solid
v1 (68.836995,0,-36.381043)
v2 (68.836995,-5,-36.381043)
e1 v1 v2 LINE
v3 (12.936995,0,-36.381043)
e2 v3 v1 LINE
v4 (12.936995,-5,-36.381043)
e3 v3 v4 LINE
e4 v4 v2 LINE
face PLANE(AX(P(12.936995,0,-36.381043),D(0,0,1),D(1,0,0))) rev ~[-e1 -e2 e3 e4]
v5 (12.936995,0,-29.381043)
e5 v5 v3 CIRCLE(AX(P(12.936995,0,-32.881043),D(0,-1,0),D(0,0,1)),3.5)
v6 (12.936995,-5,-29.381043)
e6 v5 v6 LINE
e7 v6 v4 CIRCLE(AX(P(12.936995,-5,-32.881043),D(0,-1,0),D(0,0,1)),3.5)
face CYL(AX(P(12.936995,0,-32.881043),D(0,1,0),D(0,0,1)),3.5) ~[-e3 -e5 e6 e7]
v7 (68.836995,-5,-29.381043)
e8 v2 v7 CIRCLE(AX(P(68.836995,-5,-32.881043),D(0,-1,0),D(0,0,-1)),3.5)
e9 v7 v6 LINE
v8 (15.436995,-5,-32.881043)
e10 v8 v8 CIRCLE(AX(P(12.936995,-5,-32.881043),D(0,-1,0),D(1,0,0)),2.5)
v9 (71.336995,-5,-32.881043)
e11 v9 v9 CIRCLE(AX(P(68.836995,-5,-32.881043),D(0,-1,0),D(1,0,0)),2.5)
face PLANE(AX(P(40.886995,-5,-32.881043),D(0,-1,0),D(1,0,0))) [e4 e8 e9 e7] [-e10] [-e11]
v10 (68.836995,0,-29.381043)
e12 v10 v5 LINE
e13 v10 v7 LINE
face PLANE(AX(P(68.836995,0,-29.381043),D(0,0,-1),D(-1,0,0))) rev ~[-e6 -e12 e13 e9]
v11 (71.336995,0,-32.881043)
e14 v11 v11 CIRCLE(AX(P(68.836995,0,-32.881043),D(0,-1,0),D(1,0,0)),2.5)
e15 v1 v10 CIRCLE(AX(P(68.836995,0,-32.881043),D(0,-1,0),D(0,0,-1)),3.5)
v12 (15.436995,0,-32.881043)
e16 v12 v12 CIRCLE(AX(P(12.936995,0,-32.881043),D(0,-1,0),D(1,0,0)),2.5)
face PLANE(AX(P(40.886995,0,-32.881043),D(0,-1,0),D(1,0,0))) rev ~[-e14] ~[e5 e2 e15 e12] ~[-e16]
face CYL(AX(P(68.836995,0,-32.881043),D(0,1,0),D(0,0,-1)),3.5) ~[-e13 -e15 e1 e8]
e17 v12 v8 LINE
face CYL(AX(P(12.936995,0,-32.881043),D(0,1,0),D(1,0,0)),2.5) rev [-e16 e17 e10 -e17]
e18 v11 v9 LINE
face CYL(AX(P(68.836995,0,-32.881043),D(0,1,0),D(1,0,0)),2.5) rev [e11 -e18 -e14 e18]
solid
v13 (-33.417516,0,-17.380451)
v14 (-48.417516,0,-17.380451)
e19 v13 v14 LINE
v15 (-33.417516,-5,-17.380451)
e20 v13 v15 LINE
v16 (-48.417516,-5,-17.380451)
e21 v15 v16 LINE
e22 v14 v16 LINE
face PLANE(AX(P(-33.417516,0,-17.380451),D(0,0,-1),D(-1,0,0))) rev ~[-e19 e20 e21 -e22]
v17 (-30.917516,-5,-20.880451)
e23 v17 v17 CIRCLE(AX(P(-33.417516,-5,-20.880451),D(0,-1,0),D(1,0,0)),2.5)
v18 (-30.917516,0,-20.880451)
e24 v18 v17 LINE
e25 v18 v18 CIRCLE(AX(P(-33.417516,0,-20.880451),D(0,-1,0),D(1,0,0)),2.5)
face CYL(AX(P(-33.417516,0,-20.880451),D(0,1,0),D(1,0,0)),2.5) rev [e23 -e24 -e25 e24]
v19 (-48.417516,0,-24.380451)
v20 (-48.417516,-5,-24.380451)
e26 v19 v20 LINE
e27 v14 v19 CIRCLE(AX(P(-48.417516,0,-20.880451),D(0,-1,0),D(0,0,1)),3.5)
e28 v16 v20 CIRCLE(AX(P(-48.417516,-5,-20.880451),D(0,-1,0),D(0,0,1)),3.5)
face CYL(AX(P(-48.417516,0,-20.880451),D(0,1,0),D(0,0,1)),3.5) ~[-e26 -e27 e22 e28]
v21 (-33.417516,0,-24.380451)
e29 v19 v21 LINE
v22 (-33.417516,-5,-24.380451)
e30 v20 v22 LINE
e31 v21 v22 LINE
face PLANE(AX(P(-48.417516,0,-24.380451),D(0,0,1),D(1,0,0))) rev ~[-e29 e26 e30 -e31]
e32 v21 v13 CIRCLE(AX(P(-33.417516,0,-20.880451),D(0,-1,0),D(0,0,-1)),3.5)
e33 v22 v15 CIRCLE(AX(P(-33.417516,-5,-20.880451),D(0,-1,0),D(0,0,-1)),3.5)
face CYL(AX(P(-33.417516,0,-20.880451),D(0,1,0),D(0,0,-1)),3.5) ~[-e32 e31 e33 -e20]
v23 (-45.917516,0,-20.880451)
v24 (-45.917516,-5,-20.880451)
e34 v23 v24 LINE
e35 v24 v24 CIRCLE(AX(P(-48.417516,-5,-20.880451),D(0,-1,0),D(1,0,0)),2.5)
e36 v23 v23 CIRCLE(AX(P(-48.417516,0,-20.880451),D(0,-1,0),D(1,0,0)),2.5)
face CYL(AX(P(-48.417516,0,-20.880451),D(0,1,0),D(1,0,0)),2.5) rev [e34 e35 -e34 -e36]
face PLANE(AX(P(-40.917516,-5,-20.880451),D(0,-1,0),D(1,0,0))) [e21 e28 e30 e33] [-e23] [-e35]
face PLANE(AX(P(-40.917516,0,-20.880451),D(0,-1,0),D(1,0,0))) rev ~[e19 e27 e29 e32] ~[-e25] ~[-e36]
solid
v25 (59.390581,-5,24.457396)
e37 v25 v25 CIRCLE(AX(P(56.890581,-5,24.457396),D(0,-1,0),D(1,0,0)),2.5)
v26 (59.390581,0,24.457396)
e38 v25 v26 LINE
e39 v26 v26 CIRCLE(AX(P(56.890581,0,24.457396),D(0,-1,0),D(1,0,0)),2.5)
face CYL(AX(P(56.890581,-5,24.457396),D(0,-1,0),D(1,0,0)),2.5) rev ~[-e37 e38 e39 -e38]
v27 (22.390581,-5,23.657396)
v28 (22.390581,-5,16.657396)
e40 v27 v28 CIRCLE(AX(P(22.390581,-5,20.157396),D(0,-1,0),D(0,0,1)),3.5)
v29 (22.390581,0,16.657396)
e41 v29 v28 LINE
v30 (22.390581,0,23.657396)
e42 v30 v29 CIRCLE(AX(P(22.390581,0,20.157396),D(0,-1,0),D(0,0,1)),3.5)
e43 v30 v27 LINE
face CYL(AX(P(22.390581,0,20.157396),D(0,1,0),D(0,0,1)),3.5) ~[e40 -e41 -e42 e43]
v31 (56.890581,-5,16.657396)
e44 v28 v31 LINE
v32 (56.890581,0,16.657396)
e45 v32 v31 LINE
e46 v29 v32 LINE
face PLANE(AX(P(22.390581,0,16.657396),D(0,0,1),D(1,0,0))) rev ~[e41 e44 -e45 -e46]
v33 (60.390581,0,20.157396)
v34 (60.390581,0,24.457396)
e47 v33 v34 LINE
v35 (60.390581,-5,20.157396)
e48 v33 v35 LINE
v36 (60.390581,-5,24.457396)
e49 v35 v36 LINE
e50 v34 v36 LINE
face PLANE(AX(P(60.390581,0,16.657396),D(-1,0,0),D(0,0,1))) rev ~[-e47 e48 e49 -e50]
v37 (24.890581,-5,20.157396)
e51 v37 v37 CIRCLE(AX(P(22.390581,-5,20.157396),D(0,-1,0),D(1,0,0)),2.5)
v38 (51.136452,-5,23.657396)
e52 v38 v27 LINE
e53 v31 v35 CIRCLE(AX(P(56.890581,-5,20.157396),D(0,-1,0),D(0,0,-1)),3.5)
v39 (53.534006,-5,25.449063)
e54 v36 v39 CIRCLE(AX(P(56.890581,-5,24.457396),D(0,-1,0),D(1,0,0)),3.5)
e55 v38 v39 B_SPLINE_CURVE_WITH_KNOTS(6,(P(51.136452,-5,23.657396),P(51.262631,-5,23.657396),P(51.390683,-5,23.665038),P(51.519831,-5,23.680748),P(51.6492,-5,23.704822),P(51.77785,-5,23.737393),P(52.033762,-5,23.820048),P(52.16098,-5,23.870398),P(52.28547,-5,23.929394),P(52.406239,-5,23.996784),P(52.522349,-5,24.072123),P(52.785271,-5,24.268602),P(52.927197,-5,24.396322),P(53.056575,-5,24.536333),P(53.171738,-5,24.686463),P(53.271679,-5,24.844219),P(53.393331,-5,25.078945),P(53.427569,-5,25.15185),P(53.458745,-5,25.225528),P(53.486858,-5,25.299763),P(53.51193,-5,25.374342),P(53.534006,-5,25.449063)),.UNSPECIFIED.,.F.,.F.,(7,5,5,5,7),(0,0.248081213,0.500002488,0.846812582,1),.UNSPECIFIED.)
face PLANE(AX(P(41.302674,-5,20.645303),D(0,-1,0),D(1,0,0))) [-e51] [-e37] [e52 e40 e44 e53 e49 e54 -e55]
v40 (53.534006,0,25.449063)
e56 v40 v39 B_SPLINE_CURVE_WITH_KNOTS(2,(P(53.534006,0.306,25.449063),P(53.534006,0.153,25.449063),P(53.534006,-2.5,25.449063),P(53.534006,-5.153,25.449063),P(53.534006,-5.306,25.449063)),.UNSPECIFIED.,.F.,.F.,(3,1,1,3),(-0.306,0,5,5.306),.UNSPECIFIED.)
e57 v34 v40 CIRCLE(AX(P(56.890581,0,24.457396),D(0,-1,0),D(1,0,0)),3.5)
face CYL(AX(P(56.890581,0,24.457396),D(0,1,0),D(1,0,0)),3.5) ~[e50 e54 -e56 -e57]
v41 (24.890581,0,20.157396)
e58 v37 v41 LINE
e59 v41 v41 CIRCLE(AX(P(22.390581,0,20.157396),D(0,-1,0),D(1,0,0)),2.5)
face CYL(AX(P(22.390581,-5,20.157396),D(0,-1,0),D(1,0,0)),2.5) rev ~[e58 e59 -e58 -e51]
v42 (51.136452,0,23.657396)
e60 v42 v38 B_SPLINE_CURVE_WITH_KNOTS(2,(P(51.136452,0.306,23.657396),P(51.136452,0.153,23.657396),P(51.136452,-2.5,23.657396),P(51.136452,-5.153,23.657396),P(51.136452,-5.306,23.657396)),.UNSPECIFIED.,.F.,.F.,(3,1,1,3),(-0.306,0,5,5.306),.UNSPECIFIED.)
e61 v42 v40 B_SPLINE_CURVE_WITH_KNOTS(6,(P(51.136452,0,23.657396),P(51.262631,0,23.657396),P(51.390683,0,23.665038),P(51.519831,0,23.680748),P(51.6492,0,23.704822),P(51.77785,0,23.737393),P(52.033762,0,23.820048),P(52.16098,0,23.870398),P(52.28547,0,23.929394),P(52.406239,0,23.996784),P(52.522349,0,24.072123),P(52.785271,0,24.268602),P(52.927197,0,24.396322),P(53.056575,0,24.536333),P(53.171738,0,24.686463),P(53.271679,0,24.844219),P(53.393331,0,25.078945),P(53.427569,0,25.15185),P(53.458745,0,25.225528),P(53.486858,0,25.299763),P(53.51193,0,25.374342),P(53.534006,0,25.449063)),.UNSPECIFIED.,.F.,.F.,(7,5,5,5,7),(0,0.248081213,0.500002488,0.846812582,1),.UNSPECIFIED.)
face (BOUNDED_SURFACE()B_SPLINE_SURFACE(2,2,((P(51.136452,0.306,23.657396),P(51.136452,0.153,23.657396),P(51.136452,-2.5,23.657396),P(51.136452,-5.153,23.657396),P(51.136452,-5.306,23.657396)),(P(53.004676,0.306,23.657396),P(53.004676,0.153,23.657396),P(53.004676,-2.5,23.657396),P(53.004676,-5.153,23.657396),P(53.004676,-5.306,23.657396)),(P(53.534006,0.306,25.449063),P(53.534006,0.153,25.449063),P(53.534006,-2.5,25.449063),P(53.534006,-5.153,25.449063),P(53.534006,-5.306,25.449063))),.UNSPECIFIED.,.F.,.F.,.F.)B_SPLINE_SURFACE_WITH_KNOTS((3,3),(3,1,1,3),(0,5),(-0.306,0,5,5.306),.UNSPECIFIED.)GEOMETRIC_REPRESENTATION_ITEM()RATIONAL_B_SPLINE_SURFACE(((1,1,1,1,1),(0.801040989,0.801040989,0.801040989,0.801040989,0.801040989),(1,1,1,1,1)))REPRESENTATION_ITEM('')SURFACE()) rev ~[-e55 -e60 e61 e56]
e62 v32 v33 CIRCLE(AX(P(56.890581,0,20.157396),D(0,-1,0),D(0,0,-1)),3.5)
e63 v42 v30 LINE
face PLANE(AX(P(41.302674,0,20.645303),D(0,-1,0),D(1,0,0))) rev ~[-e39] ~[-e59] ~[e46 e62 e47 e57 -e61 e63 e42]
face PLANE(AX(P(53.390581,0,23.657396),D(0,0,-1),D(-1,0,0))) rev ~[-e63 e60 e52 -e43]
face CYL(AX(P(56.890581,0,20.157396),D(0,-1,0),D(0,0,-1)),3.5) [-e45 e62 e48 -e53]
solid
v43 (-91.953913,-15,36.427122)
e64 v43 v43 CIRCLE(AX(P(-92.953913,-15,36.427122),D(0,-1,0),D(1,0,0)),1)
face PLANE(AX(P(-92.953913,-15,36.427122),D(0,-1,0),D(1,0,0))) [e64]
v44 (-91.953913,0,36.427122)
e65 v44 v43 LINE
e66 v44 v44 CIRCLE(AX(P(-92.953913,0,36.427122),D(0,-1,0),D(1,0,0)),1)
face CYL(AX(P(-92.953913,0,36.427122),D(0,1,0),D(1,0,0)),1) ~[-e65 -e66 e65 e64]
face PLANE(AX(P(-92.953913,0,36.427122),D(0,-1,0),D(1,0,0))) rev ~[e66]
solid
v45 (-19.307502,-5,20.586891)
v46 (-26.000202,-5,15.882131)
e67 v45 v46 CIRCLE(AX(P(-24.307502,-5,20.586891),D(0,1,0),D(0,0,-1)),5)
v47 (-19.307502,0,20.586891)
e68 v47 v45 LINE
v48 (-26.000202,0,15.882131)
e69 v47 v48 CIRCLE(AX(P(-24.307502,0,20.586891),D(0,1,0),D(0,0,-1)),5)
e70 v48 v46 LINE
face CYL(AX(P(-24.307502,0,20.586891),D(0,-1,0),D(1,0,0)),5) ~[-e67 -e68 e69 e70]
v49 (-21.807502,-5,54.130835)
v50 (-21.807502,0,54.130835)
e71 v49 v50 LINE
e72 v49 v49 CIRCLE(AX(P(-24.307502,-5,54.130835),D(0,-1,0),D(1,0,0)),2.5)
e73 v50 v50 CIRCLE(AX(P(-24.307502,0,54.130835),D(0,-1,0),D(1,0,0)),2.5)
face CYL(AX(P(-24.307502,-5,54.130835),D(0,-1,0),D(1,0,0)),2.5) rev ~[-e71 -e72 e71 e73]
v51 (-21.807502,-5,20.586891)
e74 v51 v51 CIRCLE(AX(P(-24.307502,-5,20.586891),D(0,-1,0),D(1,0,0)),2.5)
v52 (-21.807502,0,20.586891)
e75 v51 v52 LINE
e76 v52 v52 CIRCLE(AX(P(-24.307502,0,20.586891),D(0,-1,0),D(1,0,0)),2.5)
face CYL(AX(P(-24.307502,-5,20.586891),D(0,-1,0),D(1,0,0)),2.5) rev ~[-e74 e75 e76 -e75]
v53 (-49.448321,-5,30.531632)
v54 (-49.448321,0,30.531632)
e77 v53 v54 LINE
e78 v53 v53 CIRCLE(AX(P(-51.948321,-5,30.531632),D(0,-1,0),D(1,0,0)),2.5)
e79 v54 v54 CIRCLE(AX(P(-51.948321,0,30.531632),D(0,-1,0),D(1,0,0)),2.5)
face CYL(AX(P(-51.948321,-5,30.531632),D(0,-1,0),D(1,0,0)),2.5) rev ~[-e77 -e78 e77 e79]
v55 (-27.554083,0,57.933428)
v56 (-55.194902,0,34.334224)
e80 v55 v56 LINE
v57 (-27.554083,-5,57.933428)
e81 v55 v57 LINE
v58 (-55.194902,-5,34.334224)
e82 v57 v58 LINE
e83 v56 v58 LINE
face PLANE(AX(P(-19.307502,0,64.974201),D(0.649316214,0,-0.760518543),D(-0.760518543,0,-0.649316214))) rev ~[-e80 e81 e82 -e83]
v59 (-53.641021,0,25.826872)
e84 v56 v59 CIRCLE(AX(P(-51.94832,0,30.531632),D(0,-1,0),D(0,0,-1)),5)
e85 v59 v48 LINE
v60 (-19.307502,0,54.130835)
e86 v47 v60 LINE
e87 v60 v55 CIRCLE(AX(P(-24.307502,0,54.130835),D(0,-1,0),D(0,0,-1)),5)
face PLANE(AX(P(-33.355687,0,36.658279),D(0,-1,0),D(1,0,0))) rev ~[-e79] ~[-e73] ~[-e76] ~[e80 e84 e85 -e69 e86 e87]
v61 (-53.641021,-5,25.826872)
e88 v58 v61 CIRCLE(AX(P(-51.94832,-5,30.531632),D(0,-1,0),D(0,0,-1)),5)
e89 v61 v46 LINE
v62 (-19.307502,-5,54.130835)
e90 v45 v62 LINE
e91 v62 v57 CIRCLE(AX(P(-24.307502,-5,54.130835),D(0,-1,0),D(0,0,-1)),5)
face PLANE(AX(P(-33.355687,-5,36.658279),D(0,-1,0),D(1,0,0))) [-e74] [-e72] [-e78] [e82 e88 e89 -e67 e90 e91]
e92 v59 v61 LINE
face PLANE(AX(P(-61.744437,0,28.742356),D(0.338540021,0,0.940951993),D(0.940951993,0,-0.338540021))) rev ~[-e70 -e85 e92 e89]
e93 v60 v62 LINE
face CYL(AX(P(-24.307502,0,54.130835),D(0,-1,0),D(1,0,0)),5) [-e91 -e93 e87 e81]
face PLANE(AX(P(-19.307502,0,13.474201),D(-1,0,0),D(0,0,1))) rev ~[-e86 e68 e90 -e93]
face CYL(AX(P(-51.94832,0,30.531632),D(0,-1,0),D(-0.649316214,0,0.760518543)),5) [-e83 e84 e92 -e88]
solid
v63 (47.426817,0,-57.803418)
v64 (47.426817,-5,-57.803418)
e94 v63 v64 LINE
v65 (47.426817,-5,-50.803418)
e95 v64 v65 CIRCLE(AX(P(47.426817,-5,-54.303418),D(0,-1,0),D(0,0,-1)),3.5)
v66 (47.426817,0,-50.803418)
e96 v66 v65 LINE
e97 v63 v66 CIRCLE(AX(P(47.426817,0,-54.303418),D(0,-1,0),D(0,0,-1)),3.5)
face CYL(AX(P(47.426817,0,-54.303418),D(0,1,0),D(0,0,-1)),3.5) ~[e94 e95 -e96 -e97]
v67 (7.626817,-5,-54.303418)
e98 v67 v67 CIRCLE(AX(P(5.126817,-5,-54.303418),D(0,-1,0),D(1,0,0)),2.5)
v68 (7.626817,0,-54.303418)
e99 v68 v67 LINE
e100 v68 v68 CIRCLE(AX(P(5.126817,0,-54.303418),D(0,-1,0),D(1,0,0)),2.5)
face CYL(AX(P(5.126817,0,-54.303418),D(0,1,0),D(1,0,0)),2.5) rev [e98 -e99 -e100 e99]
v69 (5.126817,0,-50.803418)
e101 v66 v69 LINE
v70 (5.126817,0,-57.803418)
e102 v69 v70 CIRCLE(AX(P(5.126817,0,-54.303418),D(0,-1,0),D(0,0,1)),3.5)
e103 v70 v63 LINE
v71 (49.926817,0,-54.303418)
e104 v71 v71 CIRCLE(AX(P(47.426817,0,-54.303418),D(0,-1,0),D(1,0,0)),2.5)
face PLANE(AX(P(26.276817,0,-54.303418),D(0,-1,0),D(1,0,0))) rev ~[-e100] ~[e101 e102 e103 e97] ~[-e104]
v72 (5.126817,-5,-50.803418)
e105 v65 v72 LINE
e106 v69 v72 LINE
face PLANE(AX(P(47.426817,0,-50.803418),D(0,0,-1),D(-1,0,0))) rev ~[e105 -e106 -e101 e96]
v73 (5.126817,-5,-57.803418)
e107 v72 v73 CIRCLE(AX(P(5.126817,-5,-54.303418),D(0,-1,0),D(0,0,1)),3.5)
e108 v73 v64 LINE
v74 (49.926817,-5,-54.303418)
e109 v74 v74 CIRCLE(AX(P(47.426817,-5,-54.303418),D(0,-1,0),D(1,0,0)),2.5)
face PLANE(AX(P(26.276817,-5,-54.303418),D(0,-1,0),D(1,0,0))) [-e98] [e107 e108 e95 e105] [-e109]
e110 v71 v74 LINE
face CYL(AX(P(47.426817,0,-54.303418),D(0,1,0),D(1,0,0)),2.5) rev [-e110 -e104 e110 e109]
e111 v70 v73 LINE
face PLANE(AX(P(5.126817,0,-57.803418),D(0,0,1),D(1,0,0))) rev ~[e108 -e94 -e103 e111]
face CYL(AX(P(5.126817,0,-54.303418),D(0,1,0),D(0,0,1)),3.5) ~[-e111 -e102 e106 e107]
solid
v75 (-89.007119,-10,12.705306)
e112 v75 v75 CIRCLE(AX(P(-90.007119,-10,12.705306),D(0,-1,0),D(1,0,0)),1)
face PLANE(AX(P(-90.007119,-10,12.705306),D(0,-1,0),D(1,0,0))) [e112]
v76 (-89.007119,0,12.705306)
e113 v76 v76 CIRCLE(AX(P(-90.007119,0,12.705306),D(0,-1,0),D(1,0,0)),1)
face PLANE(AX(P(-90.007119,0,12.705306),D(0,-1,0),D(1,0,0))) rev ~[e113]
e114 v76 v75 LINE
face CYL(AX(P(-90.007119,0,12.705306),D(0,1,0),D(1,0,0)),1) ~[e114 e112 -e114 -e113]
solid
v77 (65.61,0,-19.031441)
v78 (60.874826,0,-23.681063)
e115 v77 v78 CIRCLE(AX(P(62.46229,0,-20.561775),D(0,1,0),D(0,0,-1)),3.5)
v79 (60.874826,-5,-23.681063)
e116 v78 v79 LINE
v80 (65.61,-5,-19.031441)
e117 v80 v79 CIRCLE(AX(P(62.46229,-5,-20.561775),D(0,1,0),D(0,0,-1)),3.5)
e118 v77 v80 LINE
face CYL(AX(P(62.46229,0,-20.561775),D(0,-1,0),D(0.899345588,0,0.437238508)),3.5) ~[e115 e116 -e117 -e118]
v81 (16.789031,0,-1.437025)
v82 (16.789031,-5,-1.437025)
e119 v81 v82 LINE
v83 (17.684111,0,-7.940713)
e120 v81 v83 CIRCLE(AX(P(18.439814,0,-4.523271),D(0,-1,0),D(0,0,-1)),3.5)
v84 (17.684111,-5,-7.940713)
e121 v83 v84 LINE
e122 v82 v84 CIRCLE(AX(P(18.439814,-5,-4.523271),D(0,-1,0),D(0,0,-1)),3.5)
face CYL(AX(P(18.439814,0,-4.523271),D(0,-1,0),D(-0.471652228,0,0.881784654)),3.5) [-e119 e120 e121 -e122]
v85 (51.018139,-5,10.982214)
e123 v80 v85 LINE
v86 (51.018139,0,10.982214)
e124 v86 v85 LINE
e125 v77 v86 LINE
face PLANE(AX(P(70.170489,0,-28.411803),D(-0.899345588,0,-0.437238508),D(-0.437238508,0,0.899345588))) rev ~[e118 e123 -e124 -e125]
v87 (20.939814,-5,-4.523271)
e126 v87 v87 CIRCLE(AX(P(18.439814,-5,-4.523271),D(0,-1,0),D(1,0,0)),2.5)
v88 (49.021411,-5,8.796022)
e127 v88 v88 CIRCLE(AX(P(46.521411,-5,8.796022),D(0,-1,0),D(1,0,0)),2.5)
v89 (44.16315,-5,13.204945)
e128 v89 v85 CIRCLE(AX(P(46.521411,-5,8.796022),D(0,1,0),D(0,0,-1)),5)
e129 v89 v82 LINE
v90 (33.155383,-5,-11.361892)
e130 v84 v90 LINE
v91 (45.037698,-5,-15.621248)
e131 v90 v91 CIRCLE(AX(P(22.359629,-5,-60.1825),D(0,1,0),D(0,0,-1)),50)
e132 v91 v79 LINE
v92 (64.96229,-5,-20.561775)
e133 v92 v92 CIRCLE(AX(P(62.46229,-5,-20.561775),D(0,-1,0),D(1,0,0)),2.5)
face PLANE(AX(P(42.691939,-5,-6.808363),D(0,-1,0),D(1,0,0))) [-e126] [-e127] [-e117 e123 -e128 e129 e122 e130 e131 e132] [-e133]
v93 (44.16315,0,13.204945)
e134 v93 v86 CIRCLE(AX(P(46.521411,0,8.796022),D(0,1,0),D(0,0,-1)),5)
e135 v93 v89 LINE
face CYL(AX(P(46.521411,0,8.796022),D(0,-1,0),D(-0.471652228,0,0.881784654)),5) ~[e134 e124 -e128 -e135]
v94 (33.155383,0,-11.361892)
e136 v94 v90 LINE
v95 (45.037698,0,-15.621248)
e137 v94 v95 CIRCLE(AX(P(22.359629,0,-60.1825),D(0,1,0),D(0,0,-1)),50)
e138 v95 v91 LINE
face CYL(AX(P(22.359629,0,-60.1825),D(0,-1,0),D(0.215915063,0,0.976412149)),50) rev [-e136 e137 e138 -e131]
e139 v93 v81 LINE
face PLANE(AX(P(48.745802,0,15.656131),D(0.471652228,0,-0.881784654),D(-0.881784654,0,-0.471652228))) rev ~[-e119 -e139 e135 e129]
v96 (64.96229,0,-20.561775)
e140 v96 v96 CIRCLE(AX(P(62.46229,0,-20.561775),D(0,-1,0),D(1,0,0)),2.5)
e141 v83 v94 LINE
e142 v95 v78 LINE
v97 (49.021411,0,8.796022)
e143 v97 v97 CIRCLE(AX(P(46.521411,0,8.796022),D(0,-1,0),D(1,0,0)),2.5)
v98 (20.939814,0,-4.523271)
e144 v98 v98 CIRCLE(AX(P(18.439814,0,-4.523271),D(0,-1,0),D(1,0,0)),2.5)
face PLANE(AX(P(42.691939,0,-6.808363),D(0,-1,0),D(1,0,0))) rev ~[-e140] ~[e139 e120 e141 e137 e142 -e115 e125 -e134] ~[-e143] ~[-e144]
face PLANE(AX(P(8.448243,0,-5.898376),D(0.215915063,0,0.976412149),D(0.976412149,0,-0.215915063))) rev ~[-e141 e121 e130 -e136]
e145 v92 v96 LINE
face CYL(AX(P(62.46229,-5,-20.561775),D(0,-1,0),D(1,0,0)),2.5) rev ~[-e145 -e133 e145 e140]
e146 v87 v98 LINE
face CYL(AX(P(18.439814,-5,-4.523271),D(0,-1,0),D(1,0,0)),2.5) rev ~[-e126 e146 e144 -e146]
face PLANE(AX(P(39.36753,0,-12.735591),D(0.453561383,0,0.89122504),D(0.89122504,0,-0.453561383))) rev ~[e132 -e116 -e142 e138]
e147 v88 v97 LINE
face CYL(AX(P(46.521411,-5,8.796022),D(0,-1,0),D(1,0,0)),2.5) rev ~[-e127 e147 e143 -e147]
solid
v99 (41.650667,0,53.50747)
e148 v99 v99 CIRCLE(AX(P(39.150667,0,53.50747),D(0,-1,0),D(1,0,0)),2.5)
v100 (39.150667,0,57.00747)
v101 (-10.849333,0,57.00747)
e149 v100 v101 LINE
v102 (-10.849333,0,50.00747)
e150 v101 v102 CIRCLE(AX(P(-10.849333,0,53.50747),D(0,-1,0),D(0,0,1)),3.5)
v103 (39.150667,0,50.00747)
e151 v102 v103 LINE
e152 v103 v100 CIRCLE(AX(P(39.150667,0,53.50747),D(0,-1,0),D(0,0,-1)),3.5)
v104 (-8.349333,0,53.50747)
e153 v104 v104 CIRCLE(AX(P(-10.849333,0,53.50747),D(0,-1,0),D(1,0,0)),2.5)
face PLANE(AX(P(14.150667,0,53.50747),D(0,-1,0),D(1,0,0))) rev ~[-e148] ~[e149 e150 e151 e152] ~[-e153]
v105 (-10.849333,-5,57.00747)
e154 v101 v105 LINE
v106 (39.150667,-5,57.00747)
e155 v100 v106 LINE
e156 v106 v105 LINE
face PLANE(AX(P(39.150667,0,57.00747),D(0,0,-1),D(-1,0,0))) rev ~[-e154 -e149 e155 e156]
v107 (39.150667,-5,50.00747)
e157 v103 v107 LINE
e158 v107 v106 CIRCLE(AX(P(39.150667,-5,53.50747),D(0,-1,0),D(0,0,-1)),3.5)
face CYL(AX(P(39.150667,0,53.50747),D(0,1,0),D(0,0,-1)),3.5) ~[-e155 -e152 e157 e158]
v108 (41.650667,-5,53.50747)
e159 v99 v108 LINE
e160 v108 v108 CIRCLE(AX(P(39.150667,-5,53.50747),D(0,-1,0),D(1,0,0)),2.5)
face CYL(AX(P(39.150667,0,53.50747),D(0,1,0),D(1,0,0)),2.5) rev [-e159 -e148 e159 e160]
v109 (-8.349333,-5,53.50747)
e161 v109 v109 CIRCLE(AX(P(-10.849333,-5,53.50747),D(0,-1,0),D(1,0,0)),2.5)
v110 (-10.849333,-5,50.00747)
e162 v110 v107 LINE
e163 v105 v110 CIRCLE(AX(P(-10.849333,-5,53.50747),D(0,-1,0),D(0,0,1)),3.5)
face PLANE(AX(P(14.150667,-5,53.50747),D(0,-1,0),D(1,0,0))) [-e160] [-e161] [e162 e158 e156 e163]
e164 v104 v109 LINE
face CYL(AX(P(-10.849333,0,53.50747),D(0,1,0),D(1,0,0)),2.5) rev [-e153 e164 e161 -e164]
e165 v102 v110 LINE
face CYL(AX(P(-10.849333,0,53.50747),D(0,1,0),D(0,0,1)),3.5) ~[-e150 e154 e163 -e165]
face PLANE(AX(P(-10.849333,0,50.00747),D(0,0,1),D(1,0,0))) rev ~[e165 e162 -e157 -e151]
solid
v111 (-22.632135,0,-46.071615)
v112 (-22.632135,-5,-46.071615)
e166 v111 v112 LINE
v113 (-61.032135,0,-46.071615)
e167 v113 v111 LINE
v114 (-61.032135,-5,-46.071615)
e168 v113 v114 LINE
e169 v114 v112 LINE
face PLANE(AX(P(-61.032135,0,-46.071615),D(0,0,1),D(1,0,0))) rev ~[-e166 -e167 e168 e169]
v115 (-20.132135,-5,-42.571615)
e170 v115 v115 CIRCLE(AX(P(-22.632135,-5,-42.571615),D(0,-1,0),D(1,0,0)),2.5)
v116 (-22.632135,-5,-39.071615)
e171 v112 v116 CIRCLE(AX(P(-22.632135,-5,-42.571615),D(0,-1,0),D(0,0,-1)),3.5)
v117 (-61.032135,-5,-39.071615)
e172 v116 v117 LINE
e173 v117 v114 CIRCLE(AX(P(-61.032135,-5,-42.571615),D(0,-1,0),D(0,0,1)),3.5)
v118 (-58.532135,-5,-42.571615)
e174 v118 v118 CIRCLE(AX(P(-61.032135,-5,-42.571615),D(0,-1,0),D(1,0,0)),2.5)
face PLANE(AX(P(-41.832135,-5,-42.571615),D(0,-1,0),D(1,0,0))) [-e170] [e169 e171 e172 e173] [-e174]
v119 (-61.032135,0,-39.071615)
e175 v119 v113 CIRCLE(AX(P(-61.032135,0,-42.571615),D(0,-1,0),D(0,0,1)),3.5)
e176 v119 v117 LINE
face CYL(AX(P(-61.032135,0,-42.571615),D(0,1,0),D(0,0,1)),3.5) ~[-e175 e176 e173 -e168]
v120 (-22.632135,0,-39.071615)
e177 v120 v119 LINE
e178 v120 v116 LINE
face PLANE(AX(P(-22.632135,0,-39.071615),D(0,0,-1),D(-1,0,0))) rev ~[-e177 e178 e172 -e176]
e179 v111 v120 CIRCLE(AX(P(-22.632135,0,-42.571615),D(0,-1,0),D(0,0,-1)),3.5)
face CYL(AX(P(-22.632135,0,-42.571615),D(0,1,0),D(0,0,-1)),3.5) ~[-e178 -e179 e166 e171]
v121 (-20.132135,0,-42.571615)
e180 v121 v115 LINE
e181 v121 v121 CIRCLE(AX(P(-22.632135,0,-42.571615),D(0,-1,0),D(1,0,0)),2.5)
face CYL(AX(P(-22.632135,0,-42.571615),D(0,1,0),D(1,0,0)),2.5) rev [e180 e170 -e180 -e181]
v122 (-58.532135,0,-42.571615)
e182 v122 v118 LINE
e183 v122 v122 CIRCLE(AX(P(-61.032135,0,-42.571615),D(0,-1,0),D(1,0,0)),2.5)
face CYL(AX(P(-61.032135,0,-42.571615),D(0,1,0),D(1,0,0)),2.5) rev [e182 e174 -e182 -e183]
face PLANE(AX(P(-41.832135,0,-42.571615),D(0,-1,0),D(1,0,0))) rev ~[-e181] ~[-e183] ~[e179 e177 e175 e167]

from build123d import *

# Parameters (mm, degrees)
F1_DEPTH  = 5
F2_R      = 5
F3_R      = 2.5
F4_DEPTH  = 25
F6_DEPTH  = 5
F7_R      = 3.5
F8_R      = 2.5
F9_R      = 2.5
F10_DEPTH = 25
F11_R     = 2.5
F12_DEPTH = 5
F13_R     = 2.5
F14_DEPTH = 5
F15_R     = 2.5
F16_DEPTH = 5
F17_R     = 2.5
F18_DEPTH = 5
F19_R     = 2.5
F20_DEPTH = 5
F22_DEPTH = 5
F23_R     = 50
F24_R     = 5
F25_R     = 3.5
F26_R     = 2.5
F27_DEPTH = 25
F28_R     = 1
F29_DEPTH = 15
F30_R     = 1
F31_DEPTH = 10


with BuildPart() as f1:
    # F0 (on Front) → F1 (new body)
    with BuildSketch(Plane.XZ):
        Polygon((-19.307502, 13.474201), (-19.307502, 64.974201), (-61.744437, 28.742356), align=None)
    extrude(amount=F1_DEPTH)

    # F2
    f2_edges = [f1.edges().sort_by_distance(p)[0] for p in [
        (-19.307502, -2.5, 64.974201),
        (-19.307502, -2.5, 13.474201),
        (-61.744437, -2.5, 28.742356),
    ]]
    fillet(f2_edges, radius=F2_R)

    # F3 (on face) → F4 (cut)
    with BuildSketch(Plane.XZ.offset(5)):
        with Locations((-24.307502, 54.130835)):
            Circle(F3_R)
        with Locations((-24.307502, 20.586891)):
            Circle(F3_R)
        with Locations((-51.948321, 30.531632)):
            Circle(F3_R)
    extrude(amount=-F4_DEPTH, mode=Mode.SUBTRACT)


with BuildPart() as f6:
    # F5 (on Front) → F6 (new body)
    with BuildSketch(Plane.XZ):
        with BuildLine():
            ThreePointArc((22.390581, 23.657396), (18.890581, 20.157396), (22.390581, 16.657396))
            Line((22.390581, 16.657396), (60.390581, 16.657396))
            Line((60.390581, 16.657396), (60.390581, 24.457396))
            ThreePointArc((60.390581, 24.457396), (56.890581, 27.957396), (53.390581, 24.457396))
            Line((53.390581, 24.457396), (53.390581, 23.657396))
            Line((53.390581, 23.657396), (22.390581, 23.657396))
        make_face()
    extrude(amount=F6_DEPTH)

    # F7
    f7_edges = [f6.edges().sort_by_distance(p)[0] for p in [
        (60.390581, -2.5, 16.657396),
    ]]
    fillet(f7_edges, radius=F7_R)

    # F8
    f8_edges = [f6.edges().sort_by_distance(p)[0] for p in [
        (53.390581, -2.5, 23.657396),
    ]]
    fillet(f8_edges, radius=F8_R)

    # F9 (on face) → F10 (cut)
    with BuildSketch(Plane.XZ.offset(5)):
        with Locations((22.390581, 20.157396)):
            Circle(F9_R)
        with Locations((56.890581, 24.457396)):
            Circle(F9_R)
    extrude(amount=-F10_DEPTH, mode=Mode.SUBTRACT)


with BuildPart() as f12:
    # F11 (on Front) → F12 (new body)
    with BuildSketch(Plane.XZ):
        with BuildLine():
            ThreePointArc((-48.417516, -17.380451), (-51.917516, -20.880451), (-48.417516, -24.380451))
            Line((-48.417516, -24.380451), (-33.417516, -24.380451))
            ThreePointArc((-33.417516, -24.380451), (-29.917516, -20.880451), (-33.417516, -17.380451))
            Line((-33.417516, -17.380451), (-48.417516, -17.380451))
        make_face()
        with Locations((-48.417516, -20.880451)):
            Circle(F11_R, mode=Mode.SUBTRACT)
        with Locations((-33.417516, -20.880451)):
            Circle(F11_R, mode=Mode.SUBTRACT)
    extrude(amount=F12_DEPTH)


with BuildPart() as f14:
    # F13 (on Front) → F14 (new body)
    with BuildSketch(Plane.XZ):
        with BuildLine():
            Line((39.150667, 57.00747), (-10.849333, 57.00747))
            ThreePointArc((-10.849333, 57.00747), (-14.349333, 53.50747), (-10.849333, 50.00747))
            Line((-10.849333, 50.00747), (39.150667, 50.00747))
            ThreePointArc((39.150667, 50.00747), (42.650667, 53.50747), (39.150667, 57.00747))
        make_face()
        with Locations((-10.849333, 53.50747)):
            Circle(F13_R, mode=Mode.SUBTRACT)
        with Locations((39.150667, 53.50747)):
            Circle(F13_R, mode=Mode.SUBTRACT)
    extrude(amount=F14_DEPTH)


with BuildPart() as f16:
    # F15 (on Front) → F16 (new body)
    with BuildSketch(Plane.XZ):
        with BuildLine():
            ThreePointArc((12.936995, -29.381043), (9.436995, -32.881043), (12.936995, -36.381043))
            Line((12.936995, -36.381043), (68.836995, -36.381043))
            ThreePointArc((68.836995, -36.381043), (72.336995, -32.881043), (68.836995, -29.381043))
            Line((68.836995, -29.381043), (12.936995, -29.381043))
        make_face()
        with Locations((12.936995, -32.881043)):
            Circle(F15_R, mode=Mode.SUBTRACT)
        with Locations((68.836995, -32.881043)):
            Circle(F15_R, mode=Mode.SUBTRACT)
    extrude(amount=F16_DEPTH)


with BuildPart() as f18:
    # F17 (on Front) → F18 (new body)
    with BuildSketch(Plane.XZ):
        with BuildLine():
            ThreePointArc((-61.032135, -39.071615), (-64.532135, -42.571615), (-61.032135, -46.071615))
            Line((-61.032135, -46.071615), (-22.632135, -46.071615))
            ThreePointArc((-22.632135, -46.071615), (-19.132135, -42.571615), (-22.632135, -39.071615))
            Line((-22.632135, -39.071615), (-61.032135, -39.071615))
        make_face()
        with Locations((-61.032135, -42.571615)):
            Circle(F17_R, mode=Mode.SUBTRACT)
        with Locations((-22.632135, -42.571615)):
            Circle(F17_R, mode=Mode.SUBTRACT)
    extrude(amount=F18_DEPTH)


with BuildPart() as f20:
    # F19 (on Front) → F20 (new body)
    with BuildSketch(Plane.XZ):
        with BuildLine():
            ThreePointArc((5.126817, -50.803418), (1.626817, -54.303418), (5.126817, -57.803418))
            Line((5.126817, -57.803418), (47.426817, -57.803418))
            ThreePointArc((47.426817, -57.803418), (50.926817, -54.303418), (47.426817, -50.803418))
            Line((47.426817, -50.803418), (5.126817, -50.803418))
        make_face()
        with Locations((5.126817, -54.303418)):
            Circle(F19_R, mode=Mode.SUBTRACT)
        with Locations((47.426817, -54.303418)):
            Circle(F19_R, mode=Mode.SUBTRACT)
    extrude(amount=F20_DEPTH)


with BuildPart() as f22:
    # F21 (on Front) → F22 (new body)
    with BuildSketch(Plane.XZ):
        Polygon((48.745802, 15.656131), (8.448243, -5.898376), (39.36753, -12.735591), (70.170489, -28.411803), align=None)
    extrude(amount=F22_DEPTH)

    # F23
    f23_edges = [f22.edges().sort_by_distance(p)[0] for p in [
        (39.36753, -2.5, -12.735591),
    ]]
    fillet(f23_edges, radius=F23_R)

    # F24
    f24_edges = [f22.edges().sort_by_distance(p)[0] for p in [
        (48.745802, -2.5, 15.656131),
    ]]
    fillet(f24_edges, radius=F24_R)

    # F25
    f25_edges = [f22.edges().sort_by_distance(p)[0] for p in [
        (8.448243, -2.5, -5.898376),
        (70.170489, -2.5, -28.411803),
    ]]
    fillet(f25_edges, radius=F25_R)

    # F26 (on face) → F27 (cut)
    with BuildSketch(Plane.XZ.offset(5)):
        with Locations((46.521411, 8.796022)):
            Circle(F26_R)
        with Locations((18.439814, -4.523271)):
            Circle(F26_R)
        with Locations((62.46229, -20.561775)):
            Circle(F26_R)
    extrude(amount=-F27_DEPTH, mode=Mode.SUBTRACT)


with BuildPart() as f29:
    # F28 (on Front) → F29 (new body)
    with BuildSketch(Plane.XZ):
        with Locations((-92.953913, 36.427122)):
            Circle(F28_R)
    extrude(amount=F29_DEPTH)


with BuildPart() as f31:
    # F30 (on Front) → F31 (new body)
    with BuildSketch(Plane.XZ):
        with Locations((-90.007119, 12.705306)):
            Circle(F30_R)
    extrude(amount=F31_DEPTH)


solid = Compound([f1.part, f6.part, f12.part, f14.part, f16.part, f18.part, f20.part, f22.part, f29.part, f31.part])
